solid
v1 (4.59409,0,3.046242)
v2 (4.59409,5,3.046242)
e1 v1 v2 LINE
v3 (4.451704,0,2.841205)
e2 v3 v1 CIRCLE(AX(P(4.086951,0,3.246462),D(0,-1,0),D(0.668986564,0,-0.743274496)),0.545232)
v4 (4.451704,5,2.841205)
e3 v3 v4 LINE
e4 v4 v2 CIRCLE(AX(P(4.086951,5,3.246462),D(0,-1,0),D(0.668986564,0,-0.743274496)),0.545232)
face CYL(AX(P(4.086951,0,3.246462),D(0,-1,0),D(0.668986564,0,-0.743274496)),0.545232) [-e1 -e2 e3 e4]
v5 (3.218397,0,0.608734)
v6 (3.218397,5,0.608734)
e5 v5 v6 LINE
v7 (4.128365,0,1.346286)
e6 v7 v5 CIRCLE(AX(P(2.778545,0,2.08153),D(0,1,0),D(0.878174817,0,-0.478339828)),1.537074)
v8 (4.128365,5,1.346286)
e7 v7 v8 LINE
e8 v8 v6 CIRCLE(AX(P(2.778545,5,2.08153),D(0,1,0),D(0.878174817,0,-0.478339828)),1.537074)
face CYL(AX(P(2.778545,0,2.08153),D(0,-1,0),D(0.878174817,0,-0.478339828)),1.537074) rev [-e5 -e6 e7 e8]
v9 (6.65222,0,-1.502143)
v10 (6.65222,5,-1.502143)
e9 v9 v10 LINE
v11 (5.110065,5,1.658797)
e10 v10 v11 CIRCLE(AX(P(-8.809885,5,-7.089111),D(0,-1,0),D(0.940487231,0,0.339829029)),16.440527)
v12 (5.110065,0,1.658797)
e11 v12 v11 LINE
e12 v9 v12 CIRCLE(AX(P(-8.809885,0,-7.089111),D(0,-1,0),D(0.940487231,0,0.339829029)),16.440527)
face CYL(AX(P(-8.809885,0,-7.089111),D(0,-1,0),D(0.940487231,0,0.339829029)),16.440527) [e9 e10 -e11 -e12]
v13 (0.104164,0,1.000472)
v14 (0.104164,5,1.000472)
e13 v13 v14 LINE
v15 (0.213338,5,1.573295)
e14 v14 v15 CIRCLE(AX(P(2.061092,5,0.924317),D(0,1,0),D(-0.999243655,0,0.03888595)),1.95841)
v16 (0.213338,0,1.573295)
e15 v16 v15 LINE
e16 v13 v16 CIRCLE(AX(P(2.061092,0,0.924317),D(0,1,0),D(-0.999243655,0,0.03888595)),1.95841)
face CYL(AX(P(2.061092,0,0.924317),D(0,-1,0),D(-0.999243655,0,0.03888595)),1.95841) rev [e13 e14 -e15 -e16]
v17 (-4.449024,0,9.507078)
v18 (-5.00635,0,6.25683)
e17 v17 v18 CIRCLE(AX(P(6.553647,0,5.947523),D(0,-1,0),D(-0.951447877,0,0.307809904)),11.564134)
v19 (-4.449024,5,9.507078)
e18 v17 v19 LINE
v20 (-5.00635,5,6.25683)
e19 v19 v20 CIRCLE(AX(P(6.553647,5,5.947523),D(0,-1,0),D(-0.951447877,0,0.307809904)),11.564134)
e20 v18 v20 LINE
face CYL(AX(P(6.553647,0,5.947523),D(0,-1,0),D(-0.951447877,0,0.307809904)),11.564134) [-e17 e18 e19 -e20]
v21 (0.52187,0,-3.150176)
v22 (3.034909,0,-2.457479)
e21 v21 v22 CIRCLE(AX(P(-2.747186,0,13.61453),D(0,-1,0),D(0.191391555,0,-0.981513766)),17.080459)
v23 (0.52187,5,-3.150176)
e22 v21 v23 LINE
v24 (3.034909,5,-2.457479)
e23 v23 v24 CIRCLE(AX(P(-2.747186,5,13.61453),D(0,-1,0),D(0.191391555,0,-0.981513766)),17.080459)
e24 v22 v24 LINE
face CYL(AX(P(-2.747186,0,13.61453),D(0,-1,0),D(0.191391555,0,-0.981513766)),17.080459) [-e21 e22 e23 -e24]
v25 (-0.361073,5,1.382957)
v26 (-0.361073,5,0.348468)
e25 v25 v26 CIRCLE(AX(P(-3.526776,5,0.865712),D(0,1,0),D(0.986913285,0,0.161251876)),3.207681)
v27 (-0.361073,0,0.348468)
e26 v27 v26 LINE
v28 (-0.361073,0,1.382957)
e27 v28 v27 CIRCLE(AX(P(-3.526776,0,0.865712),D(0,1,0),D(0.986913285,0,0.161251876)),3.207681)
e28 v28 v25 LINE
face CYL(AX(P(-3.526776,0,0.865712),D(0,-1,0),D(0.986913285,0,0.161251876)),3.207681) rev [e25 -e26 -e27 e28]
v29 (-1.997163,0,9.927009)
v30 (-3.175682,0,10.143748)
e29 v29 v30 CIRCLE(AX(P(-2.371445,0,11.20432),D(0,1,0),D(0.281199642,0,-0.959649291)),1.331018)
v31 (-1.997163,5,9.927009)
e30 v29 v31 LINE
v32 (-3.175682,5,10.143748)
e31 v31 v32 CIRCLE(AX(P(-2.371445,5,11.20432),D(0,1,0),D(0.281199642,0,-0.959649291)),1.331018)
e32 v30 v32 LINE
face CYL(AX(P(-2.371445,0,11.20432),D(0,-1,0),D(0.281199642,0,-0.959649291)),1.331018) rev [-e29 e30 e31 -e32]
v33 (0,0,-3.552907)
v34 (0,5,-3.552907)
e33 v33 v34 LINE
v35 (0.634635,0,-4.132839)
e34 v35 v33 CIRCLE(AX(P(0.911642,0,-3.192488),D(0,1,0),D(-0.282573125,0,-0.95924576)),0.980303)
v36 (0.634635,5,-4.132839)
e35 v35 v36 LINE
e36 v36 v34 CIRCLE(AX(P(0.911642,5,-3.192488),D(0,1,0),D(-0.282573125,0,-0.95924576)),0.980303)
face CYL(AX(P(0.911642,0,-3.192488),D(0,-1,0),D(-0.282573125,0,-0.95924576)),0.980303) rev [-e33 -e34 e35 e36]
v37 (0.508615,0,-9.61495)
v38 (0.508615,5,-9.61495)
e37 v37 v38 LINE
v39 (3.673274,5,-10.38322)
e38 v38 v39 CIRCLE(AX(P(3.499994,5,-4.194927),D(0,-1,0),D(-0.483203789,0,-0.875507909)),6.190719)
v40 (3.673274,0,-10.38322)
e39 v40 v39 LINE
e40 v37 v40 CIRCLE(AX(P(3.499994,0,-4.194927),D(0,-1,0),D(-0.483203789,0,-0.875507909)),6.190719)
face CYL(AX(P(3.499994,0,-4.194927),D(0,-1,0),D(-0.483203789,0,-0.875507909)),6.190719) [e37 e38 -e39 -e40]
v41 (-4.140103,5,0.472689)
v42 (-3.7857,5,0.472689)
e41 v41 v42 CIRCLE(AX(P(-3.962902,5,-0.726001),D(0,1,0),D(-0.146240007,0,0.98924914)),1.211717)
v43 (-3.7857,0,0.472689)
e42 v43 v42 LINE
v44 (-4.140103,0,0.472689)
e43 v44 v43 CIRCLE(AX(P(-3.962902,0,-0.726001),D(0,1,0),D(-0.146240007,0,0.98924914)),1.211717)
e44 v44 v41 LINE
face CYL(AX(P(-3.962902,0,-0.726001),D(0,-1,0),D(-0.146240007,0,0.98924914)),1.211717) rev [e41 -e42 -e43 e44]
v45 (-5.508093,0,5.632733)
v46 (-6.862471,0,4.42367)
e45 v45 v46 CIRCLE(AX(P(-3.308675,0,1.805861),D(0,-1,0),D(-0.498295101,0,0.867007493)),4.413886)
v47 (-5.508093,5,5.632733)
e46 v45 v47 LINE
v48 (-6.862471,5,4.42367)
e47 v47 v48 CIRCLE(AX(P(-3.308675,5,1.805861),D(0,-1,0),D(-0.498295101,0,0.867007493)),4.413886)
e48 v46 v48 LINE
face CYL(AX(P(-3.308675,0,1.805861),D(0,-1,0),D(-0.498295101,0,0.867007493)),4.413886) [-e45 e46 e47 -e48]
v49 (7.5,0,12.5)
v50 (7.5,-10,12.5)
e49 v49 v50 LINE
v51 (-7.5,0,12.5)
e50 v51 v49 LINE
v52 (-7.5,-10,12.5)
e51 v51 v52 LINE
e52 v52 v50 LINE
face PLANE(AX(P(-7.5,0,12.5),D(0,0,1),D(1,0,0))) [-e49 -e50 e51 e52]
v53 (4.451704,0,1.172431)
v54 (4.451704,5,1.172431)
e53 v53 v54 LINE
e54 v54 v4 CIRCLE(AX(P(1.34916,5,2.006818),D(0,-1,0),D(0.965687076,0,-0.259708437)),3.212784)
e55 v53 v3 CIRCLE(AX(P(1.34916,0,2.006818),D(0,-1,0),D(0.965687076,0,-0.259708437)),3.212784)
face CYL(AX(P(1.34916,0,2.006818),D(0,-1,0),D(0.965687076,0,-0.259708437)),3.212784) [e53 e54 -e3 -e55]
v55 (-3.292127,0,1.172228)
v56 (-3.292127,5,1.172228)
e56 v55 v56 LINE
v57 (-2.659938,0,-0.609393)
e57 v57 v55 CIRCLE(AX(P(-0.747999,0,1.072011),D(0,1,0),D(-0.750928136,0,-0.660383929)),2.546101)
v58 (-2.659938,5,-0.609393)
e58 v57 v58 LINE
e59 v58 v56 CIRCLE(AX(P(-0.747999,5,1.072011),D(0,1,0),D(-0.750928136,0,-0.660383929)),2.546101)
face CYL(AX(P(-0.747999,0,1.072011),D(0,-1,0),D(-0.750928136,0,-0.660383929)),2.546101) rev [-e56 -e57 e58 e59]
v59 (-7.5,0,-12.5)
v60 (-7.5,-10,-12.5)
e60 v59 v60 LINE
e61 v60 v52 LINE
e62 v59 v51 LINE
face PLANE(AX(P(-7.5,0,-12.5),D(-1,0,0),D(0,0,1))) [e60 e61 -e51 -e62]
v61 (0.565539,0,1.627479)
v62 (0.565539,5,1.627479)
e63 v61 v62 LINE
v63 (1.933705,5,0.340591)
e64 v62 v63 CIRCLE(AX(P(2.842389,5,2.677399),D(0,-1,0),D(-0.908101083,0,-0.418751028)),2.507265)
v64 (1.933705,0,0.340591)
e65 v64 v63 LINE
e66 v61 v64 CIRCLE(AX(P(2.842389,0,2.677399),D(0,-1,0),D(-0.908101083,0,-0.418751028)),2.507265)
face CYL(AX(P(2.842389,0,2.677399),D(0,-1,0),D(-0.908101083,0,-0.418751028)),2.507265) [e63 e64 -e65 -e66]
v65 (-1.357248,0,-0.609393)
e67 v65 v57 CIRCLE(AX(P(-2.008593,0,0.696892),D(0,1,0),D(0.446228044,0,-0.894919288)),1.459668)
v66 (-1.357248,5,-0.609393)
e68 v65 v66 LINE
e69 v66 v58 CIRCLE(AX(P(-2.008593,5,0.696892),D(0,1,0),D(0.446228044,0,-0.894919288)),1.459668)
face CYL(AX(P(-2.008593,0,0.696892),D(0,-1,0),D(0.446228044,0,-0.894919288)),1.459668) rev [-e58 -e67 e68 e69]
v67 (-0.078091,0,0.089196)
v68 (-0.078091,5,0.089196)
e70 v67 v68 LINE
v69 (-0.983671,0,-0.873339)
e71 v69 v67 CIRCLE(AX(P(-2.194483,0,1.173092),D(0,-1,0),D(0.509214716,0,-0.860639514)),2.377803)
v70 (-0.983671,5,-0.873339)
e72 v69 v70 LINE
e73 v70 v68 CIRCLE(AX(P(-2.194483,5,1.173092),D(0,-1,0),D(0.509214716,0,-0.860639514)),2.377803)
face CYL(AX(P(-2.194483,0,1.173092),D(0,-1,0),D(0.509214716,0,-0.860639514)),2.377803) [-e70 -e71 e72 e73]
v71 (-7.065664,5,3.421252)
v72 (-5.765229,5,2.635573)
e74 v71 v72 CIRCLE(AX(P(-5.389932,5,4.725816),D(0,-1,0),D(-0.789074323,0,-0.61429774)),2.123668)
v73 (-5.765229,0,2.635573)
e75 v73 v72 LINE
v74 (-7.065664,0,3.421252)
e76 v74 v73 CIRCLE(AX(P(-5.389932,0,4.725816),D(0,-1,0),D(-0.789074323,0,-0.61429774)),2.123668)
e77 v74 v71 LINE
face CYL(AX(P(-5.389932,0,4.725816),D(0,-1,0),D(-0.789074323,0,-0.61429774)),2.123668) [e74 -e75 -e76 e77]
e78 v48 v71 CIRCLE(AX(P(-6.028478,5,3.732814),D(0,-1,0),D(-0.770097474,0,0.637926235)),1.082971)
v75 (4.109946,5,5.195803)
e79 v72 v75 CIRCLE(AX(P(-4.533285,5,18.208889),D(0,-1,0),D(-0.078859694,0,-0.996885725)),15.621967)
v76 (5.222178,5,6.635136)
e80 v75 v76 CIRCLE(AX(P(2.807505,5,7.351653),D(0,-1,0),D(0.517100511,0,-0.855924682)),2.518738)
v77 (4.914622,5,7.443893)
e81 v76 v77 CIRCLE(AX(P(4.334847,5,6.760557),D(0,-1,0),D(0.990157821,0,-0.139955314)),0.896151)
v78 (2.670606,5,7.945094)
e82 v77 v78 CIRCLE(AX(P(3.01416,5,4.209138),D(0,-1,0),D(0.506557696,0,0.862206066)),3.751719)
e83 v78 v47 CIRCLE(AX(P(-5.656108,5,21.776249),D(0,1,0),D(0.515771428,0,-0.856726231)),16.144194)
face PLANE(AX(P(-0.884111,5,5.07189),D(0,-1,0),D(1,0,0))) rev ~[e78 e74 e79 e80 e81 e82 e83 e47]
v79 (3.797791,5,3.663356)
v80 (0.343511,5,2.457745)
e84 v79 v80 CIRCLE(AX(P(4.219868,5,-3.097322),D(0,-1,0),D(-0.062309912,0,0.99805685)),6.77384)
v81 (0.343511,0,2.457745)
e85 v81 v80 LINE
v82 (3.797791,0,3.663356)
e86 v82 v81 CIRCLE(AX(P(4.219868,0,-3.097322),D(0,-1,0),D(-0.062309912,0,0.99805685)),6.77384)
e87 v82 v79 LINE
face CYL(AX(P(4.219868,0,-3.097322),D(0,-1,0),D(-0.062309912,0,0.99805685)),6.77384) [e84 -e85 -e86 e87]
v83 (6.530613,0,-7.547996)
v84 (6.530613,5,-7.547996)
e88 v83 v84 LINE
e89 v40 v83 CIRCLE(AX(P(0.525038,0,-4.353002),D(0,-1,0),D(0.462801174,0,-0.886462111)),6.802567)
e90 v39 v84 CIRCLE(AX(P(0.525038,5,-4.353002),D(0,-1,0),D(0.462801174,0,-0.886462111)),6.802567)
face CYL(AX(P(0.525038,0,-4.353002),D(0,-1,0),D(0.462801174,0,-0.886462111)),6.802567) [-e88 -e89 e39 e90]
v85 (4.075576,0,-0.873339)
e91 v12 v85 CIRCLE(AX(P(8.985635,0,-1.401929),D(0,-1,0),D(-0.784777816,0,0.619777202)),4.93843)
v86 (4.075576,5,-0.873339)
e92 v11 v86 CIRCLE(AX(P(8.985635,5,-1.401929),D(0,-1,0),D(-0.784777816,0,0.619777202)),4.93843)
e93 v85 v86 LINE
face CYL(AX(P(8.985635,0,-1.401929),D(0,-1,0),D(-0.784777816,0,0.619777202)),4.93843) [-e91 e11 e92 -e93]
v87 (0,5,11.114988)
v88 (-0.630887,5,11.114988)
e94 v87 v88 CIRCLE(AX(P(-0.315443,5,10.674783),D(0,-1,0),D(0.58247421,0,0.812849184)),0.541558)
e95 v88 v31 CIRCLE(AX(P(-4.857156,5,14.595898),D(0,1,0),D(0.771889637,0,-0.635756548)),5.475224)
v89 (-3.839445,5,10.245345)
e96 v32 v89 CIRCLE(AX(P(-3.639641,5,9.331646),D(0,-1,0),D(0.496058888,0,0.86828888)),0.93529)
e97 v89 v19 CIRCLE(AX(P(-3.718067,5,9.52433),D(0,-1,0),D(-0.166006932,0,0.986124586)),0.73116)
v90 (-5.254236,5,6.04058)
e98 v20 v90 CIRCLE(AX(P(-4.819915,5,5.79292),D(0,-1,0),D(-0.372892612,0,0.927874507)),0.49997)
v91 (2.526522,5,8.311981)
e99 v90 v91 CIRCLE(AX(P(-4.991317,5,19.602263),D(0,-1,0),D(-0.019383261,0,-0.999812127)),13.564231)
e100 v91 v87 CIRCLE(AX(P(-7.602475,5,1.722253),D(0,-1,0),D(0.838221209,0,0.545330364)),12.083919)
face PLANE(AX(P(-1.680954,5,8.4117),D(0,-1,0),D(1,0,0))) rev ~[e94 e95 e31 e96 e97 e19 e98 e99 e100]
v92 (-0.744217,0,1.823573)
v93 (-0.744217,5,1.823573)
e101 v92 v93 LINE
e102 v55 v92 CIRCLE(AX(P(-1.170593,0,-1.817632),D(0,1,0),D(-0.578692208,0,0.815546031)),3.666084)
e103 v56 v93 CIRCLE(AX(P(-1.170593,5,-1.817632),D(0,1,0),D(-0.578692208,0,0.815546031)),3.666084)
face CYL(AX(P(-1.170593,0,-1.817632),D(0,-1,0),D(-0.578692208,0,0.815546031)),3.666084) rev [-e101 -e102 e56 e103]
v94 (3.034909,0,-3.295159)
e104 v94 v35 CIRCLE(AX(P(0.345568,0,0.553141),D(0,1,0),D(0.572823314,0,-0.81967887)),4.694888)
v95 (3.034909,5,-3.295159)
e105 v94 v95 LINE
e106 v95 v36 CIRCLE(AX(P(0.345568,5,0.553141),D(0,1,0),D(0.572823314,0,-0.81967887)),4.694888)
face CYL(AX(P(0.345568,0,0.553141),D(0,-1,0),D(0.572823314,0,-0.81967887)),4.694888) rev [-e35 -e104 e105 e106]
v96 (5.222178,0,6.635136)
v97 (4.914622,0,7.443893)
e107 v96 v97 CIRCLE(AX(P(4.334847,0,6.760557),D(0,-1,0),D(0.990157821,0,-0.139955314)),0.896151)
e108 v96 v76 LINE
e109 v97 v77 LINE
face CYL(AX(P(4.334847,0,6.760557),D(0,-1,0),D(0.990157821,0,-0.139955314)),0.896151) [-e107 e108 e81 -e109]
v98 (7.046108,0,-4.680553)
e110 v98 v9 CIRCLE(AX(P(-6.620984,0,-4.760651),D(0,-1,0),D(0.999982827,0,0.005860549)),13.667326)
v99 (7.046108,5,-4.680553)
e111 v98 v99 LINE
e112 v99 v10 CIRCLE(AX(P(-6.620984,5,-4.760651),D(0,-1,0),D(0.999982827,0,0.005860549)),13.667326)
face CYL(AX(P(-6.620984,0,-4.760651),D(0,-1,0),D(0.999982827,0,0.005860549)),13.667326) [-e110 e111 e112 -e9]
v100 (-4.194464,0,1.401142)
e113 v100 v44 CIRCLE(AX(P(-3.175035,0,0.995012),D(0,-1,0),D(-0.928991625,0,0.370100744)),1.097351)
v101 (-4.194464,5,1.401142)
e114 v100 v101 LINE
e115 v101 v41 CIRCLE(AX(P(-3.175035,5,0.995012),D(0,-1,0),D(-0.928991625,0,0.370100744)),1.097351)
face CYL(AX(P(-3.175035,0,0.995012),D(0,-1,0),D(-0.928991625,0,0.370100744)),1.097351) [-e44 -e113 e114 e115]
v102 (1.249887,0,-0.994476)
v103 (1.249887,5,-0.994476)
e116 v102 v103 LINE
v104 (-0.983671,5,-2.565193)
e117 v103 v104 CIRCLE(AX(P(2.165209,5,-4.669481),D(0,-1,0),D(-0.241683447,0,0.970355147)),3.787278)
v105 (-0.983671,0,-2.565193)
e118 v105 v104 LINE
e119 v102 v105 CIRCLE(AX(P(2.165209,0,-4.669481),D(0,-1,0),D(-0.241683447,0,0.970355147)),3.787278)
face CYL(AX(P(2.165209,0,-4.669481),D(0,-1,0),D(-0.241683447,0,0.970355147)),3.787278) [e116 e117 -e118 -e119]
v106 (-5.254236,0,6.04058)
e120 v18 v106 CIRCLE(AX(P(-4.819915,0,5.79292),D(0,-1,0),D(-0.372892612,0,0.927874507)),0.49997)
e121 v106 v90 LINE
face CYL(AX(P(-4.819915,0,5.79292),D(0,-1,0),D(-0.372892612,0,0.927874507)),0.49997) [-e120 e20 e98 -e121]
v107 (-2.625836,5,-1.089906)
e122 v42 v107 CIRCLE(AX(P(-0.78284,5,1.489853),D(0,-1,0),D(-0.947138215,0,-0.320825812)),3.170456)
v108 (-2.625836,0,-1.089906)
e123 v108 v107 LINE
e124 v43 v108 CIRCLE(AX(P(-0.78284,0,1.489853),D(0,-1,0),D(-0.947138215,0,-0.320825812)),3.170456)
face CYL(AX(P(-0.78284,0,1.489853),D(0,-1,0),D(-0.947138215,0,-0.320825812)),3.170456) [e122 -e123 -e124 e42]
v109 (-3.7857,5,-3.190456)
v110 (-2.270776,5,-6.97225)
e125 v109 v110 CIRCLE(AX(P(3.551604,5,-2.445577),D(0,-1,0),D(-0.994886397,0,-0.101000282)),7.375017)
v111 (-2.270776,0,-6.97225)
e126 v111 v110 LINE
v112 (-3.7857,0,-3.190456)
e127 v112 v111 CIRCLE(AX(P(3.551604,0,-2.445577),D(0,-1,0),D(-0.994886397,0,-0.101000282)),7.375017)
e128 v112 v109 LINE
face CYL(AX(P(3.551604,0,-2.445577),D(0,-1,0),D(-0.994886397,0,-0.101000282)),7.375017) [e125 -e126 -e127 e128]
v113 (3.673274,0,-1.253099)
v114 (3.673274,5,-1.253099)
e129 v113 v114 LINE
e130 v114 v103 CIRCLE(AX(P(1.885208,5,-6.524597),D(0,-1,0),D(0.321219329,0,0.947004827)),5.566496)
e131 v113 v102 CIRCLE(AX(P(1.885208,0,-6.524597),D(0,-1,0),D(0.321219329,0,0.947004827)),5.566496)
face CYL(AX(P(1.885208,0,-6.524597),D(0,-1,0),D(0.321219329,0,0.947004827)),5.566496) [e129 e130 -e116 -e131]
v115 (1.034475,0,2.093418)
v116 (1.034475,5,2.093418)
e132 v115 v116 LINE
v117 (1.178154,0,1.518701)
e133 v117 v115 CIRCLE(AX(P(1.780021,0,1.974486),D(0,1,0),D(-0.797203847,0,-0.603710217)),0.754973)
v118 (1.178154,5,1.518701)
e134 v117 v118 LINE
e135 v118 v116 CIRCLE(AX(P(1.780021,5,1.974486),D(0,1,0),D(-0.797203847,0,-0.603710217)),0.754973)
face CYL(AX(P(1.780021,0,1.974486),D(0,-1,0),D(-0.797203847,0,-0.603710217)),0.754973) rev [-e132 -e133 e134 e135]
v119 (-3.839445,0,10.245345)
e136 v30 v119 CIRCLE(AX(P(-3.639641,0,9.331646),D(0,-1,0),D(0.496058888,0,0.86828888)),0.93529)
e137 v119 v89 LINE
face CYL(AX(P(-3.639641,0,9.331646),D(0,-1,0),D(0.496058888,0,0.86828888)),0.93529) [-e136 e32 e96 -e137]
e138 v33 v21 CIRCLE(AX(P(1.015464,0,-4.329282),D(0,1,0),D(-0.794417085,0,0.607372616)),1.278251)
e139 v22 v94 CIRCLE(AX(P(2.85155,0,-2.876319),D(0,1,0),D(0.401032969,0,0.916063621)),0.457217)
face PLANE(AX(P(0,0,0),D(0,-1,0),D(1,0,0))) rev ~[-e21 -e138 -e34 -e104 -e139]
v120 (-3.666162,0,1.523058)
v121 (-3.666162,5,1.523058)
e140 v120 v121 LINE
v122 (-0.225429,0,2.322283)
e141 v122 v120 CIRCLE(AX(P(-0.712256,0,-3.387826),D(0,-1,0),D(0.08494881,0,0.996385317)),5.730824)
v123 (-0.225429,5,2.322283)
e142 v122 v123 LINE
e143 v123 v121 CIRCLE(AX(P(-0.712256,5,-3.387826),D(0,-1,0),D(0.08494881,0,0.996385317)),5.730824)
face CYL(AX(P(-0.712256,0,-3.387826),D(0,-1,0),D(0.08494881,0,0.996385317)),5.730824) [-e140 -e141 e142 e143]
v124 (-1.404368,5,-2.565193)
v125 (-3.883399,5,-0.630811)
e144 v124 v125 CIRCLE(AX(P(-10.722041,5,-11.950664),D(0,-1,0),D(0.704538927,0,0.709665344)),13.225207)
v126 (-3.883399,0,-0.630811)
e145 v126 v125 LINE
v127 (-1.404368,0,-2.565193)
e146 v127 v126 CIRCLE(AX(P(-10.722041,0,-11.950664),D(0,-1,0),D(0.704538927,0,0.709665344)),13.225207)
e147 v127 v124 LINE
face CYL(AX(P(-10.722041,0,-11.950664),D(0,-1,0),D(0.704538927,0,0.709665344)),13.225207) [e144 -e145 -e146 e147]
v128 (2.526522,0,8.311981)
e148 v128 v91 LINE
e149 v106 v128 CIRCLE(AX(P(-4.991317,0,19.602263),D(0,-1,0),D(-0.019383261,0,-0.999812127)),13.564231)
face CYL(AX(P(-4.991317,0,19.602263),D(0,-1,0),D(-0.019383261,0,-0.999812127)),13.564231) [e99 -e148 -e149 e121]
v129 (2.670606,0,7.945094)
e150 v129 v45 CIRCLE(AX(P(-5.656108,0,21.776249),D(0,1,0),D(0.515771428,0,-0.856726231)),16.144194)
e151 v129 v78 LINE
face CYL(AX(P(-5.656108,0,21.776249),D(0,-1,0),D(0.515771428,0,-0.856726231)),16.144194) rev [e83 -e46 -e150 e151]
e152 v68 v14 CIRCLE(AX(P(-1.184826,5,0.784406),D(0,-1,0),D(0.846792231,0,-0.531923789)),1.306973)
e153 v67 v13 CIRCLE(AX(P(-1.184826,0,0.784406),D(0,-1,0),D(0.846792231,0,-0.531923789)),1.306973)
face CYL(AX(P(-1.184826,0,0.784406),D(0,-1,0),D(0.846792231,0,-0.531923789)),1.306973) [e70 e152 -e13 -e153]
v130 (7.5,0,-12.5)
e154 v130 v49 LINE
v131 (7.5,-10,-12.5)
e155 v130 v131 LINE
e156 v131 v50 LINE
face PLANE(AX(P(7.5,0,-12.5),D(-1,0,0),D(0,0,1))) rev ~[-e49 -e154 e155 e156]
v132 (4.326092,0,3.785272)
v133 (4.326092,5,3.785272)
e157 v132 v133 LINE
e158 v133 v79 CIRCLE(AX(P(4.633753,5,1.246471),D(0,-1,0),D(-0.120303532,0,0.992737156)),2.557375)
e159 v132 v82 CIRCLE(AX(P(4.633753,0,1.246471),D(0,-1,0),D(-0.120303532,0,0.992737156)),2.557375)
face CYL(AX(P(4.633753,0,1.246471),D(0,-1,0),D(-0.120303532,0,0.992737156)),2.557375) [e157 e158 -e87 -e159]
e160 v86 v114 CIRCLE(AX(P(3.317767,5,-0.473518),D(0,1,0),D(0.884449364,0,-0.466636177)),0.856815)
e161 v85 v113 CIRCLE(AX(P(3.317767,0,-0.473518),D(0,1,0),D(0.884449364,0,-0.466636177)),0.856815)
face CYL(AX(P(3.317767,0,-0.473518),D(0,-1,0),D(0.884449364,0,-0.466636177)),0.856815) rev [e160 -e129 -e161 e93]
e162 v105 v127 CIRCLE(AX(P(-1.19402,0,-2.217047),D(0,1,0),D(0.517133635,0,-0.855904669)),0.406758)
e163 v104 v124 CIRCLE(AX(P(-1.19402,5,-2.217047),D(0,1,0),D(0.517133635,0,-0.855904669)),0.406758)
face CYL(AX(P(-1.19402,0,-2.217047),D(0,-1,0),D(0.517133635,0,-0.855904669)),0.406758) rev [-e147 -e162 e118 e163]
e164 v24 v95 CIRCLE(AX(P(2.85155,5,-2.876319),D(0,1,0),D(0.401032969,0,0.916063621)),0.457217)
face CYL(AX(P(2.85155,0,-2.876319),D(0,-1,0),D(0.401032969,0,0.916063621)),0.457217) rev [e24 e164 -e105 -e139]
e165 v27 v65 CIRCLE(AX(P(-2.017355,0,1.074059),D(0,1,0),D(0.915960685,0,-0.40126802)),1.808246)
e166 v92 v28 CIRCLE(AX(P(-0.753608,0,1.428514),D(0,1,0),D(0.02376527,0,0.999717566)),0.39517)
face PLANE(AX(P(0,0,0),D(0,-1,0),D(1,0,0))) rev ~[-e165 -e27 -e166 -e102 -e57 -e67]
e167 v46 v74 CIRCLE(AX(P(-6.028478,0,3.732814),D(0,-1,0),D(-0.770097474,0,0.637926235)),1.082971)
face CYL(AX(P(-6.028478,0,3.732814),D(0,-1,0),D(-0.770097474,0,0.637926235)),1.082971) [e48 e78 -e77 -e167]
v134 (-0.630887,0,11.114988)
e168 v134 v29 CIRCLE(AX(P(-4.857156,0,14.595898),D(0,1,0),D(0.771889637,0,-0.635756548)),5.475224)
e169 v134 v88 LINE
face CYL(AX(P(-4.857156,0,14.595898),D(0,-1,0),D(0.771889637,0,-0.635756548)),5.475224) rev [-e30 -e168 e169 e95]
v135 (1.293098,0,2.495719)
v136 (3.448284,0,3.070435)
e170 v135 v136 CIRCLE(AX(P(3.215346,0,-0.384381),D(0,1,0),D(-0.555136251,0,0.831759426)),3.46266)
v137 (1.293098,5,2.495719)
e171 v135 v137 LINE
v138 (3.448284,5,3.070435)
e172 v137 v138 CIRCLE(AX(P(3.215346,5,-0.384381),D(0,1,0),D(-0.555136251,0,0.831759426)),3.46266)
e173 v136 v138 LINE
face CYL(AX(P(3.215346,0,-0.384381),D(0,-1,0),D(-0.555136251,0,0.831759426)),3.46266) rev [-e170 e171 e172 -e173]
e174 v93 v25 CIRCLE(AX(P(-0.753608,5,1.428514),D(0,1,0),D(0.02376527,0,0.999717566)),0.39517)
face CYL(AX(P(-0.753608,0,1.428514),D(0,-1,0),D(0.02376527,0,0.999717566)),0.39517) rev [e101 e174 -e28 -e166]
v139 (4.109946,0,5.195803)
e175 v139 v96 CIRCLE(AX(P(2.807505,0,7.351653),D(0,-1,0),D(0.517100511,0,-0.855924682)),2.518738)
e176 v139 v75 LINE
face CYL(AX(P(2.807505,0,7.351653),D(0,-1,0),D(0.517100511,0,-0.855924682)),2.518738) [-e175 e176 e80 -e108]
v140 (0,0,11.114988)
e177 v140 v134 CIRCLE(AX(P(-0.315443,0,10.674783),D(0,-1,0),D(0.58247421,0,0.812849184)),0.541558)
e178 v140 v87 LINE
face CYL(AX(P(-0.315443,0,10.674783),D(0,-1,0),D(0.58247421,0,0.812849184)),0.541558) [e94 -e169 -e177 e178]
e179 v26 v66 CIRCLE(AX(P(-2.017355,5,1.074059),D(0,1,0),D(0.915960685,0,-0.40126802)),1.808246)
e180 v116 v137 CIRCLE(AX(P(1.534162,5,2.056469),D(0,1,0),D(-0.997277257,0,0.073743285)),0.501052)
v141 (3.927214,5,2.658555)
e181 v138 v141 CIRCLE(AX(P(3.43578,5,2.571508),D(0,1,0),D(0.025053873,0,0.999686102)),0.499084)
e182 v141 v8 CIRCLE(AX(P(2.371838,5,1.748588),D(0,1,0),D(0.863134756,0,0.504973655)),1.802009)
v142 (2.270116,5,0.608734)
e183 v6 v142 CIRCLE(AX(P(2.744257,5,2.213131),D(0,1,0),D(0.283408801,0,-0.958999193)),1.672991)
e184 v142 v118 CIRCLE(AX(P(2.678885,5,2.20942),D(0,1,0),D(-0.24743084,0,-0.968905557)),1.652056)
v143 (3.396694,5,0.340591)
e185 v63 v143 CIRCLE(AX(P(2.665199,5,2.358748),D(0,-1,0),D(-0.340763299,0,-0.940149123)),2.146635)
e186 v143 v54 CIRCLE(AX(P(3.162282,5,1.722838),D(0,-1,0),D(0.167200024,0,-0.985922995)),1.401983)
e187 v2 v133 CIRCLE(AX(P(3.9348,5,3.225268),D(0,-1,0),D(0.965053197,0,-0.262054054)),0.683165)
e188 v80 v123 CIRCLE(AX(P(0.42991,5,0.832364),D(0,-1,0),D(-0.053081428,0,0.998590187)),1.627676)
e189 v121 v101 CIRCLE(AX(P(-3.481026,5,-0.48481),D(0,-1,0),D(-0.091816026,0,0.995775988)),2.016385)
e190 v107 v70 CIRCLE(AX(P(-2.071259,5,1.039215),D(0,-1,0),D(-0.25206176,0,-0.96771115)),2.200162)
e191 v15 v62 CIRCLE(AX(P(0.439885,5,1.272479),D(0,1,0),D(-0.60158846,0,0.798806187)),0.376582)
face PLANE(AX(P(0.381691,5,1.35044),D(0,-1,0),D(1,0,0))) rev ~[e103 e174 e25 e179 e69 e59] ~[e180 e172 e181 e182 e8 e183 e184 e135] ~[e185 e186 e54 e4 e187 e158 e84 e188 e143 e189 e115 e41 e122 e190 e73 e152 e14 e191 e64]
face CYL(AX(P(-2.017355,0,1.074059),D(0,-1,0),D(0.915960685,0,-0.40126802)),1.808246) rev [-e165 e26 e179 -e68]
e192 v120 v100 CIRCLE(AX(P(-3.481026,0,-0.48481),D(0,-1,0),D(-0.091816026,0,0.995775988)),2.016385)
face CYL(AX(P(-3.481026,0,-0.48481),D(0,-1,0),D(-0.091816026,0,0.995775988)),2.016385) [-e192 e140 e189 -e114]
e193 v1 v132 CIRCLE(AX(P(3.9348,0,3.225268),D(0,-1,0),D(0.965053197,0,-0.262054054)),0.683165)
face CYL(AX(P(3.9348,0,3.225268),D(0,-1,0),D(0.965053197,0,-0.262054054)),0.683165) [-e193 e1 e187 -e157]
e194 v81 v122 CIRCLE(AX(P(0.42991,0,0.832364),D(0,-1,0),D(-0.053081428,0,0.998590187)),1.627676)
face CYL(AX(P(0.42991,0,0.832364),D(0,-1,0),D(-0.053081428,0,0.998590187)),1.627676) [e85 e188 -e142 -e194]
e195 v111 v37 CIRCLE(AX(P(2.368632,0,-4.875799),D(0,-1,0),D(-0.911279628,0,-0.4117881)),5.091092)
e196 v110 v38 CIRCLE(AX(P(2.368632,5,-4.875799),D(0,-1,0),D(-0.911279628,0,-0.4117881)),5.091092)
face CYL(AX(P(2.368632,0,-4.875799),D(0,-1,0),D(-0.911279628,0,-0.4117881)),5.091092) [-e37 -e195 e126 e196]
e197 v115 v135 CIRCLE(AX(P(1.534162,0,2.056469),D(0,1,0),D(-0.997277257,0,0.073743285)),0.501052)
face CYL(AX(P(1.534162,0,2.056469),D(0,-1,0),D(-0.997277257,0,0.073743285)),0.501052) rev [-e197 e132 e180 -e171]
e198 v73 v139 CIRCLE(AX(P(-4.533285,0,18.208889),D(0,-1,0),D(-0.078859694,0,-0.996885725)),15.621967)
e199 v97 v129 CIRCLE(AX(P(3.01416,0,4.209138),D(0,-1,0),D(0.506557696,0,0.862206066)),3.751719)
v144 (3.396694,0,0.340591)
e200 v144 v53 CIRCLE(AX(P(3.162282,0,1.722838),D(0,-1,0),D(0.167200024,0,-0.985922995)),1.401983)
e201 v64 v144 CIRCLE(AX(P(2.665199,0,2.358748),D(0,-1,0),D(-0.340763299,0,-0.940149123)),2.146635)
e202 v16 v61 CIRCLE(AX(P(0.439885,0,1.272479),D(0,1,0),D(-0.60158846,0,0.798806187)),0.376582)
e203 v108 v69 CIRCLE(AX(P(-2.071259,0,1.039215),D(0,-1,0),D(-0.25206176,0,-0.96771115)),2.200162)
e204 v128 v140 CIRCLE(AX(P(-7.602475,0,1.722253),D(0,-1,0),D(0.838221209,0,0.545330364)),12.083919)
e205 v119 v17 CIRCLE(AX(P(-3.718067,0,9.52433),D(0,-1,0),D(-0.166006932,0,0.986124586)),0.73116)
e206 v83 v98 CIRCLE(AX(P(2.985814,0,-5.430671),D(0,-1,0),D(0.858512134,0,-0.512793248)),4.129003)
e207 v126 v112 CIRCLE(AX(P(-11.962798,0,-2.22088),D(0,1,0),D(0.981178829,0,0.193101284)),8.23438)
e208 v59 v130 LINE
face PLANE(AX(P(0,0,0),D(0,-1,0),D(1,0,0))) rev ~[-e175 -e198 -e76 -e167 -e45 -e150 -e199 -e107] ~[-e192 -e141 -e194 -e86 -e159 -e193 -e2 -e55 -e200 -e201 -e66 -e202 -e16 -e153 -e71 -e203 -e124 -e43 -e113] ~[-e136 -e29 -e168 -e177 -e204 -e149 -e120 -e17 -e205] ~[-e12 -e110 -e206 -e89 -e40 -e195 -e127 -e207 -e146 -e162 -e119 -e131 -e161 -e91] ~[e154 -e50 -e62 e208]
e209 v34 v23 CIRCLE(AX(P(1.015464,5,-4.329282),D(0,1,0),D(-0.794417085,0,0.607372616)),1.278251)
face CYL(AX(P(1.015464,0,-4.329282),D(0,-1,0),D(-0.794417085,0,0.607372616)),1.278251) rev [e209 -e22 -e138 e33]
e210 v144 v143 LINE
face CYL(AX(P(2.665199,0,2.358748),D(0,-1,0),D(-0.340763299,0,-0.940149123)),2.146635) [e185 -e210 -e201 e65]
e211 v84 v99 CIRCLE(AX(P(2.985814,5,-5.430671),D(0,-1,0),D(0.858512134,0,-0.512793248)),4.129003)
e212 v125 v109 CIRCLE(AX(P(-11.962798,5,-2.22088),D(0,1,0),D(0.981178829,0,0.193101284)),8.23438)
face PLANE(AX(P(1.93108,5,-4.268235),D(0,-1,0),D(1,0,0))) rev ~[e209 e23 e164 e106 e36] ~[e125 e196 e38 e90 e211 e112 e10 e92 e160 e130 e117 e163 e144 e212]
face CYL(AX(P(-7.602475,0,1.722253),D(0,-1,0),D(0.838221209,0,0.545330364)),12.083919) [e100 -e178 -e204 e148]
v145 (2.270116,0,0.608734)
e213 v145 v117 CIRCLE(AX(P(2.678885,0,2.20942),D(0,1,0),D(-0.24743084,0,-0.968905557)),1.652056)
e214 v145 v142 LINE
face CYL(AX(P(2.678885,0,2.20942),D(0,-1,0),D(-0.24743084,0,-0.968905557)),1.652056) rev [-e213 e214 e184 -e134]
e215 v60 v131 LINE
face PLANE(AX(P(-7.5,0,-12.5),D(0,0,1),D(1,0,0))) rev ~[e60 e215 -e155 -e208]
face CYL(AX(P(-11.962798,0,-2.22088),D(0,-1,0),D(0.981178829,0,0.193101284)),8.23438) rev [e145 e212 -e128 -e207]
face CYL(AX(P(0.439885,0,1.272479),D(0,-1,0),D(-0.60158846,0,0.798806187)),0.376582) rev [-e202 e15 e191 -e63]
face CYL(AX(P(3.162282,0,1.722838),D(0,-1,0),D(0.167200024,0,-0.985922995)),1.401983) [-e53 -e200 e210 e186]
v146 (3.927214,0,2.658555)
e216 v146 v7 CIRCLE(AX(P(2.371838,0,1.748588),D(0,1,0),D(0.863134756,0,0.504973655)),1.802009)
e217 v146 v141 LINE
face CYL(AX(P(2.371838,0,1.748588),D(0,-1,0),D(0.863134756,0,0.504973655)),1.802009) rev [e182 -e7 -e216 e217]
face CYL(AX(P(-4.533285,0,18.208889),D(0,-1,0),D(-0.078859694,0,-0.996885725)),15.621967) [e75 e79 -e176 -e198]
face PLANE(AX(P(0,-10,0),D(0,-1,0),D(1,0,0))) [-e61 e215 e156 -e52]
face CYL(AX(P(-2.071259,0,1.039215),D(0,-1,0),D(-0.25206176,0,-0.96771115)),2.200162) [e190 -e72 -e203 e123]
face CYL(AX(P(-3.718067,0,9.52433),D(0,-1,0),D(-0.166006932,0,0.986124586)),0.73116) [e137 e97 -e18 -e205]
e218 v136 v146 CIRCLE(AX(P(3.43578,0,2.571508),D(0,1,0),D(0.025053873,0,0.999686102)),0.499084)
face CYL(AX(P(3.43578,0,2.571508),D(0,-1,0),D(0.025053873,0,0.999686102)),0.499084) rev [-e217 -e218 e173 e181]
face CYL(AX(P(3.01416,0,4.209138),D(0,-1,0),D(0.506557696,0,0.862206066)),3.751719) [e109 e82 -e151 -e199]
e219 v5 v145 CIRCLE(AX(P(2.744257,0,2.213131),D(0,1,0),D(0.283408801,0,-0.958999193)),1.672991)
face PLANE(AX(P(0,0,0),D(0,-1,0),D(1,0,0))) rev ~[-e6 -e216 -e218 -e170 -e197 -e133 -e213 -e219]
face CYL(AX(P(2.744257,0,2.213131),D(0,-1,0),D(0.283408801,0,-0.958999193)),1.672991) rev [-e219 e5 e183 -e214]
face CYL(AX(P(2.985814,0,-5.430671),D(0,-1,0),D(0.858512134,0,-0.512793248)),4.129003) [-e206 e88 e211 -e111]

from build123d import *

# Parameters (mm, degrees)
F1_DEPTH = 5
F0_W     = 15
F0_H     = 25
F2_DEPTH = 10


with BuildPart() as f1:
    # F0 (on Front) → F1 (new body)
    with BuildSketch(Plane.XZ):
        with BuildLine():
            ThreePointArc((-5.00635, 6.25683), (-5.148587, 6.169676), (-5.254236, 6.04058))
            ThreePointArc((-5.254236, 6.04058), (-1.190227, 6.581507), (2.526522, 8.311981))
            ThreePointArc((2.526522, 8.311981), (1.373353, 9.812717), (0, 11.114988))
            ThreePointArc((0, 11.114988), (-0.315443, 11.216341), (-0.630887, 11.114988))
            ThreePointArc((-0.630887, 11.114988), (-1.26458, 10.464133), (-1.997163, 9.927009))
            ThreePointArc((-1.997163, 9.927009), (-2.612192, 9.895255), (-3.175682, 10.143748))
            ThreePointArc((-3.175682, 10.143748), (-3.498132, 10.256169), (-3.839445, 10.245345))
            ThreePointArc((-3.839445, 10.245345), (-4.281874, 9.989859), (-4.449024, 9.507078))
            ThreePointArc((-4.449024, 9.507078), (-4.844139, 7.901922), (-5.00635, 6.25683))
        make_face()
        with BuildLine():
            ThreePointArc((2.670606, 7.945094), (-1.26384, 6.241031), (-5.508093, 5.632733))
            ThreePointArc((-5.508093, 5.632733), (-6.248118, 5.09859), (-6.862471, 4.42367))
            ThreePointArc((-6.862471, 4.42367), (-7.089863, 3.94796), (-7.065664, 3.421252))
            ThreePointArc((-7.065664, 3.421252), (-6.488114, 2.908136), (-5.765229, 2.635573))
            ThreePointArc((-5.765229, 2.635573), (-0.612764, 3.086873), (4.109946, 5.195803))
            ThreePointArc((4.109946, 5.195803), (4.800531, 5.811559), (5.222178, 6.635136))
            ThreePointArc((5.222178, 6.635136), (5.172476, 7.079092), (4.914622, 7.443893))
            ThreePointArc((4.914622, 7.443893), (3.831957, 7.870641), (2.670606, 7.945094))
        make_face()
        with BuildLine():
            ThreePointArc((4.326092, 3.785272), (4.058701, 3.738354), (3.797791, 3.663356))
            ThreePointArc((3.797791, 3.663356), (1.987715, 3.298177), (0.343511, 2.457745))
            ThreePointArc((0.343511, 2.457745), (0.052907, 2.415777), (-0.225429, 2.322283))
            ThreePointArc((-0.225429, 2.322283), (-2.008909, 2.194381), (-3.666162, 1.523058))
            ThreePointArc((-3.666162, 1.523058), (-3.934429, 1.479938), (-4.194464, 1.401142))
            ThreePointArc((-4.194464, 1.401142), (-4.270509, 0.930872), (-4.140103, 0.472689))
            ThreePointArc((-4.140103, 0.472689), (-3.962901, 0.485716), (-3.7857, 0.472689))
            ThreePointArc((-3.7857, 0.472689), (-3.328622, -0.399799), (-2.625836, -1.089906))
            ThreePointArc((-2.625836, -1.089906), (-1.783595, -1.14206), (-0.983671, -0.873339))
            ThreePointArc((-0.983671, -0.873339), (-0.462666, -0.45625), (-0.078091, 0.089196))
            ThreePointArc((-0.078091, 0.089196), (0.096767, 0.528088), (0.104164, 1.000472))
            ThreePointArc((0.104164, 1.000472), (0.137311, 1.290969), (0.213338, 1.573295))
            ThreePointArc((0.213338, 1.573295), (0.382624, 1.644682), (0.565539, 1.627479))
            ThreePointArc((0.565539, 1.627479), (1.124563, 0.851077), (1.933705, 0.340591))
            ThreePointArc((1.933705, 0.340591), (2.665199, 0.212113), (3.396694, 0.340591))
            ThreePointArc((3.396694, 0.340591), (4.03033, 0.621907), (4.451704, 1.172431))
            ThreePointArc((4.451704, 1.172431), (4.561944, 2.006818), (4.451704, 2.841205))
            ThreePointArc((4.451704, 2.841205), (4.534789, 2.935465), (4.59409, 3.046242))
            ThreePointArc((4.59409, 3.046242), (4.57704, 3.458166), (4.326092, 3.785272))
        make_face()
        with BuildLine():
            ThreePointArc((-3.292127, 1.172228), (-2.078587, 1.734229), (-0.744217, 1.823573))
            ThreePointArc((-0.744217, 1.823573), (-0.455411, 1.687817), (-0.361073, 1.382957))
            ThreePointArc((-0.361073, 1.382957), (-0.319095, 0.865713), (-0.361073, 0.348468))
            ThreePointArc((-0.361073, 0.348468), (-0.764044, -0.229384), (-1.357248, -0.609393))
            ThreePointArc((-1.357248, -0.609393), (-2.008593, -0.762776), (-2.659938, -0.609393))
            ThreePointArc((-2.659938, -0.609393), (-3.147515, 0.220569), (-3.292127, 1.172228))
        make_face(mode=Mode.SUBTRACT)
        with BuildLine():
            ThreePointArc((1.293098, 2.495719), (2.323148, 2.961362), (3.448284, 3.070435))
            ThreePointArc((3.448284, 3.070435), (3.761202, 2.949906), (3.927214, 2.658555))
            ThreePointArc((3.927214, 2.658555), (4.153042, 2.02162), (4.128365, 1.346286))
            ThreePointArc((4.128365, 1.346286), (3.746392, 0.887432), (3.218397, 0.608734))
            ThreePointArc((3.218397, 0.608734), (2.744257, 0.54014), (2.270116, 0.608734))
            ThreePointArc((2.270116, 0.608734), (1.621266, 0.940275), (1.178154, 1.518701))
            ThreePointArc((1.178154, 1.518701), (1.04759, 1.791378), (1.034475, 2.093418))
            ThreePointArc((1.034475, 2.093418), (1.112689, 2.327417), (1.293098, 2.495719))
        make_face(mode=Mode.SUBTRACT)
        with BuildLine():
            ThreePointArc((7.046108, -4.680553), (6.942587, -3.07977), (6.65222, -1.502143))
            ThreePointArc((6.65222, -1.502143), (5.965912, 0.119684), (5.110065, 1.658797))
            ThreePointArc((5.110065, 1.658797), (4.414011, 0.465781), (4.075576, -0.873339))
            ThreePointArc((4.075576, -0.873339), (3.905919, -1.096582), (3.673274, -1.253099))
            ThreePointArc((3.673274, -1.253099), (2.475908, -0.989532), (1.249887, -0.994476))
            ThreePointArc((1.249887, -0.994476), (-0.013374, -1.571538), (-0.983671, -2.565193))
            ThreePointArc((-0.983671, -2.565193), (-1.194019, -2.623805), (-1.404368, -2.565193))
            ThreePointArc((-1.404368, -2.565193), (-2.586189, -1.524063), (-3.883399, -0.630811))
            ThreePointArc((-3.883399, -0.630811), (-3.73441, -1.906811), (-3.7857, -3.190456))
            ThreePointArc((-3.7857, -3.190456), (-3.294549, -5.188033), (-2.270776, -6.97225))
            ThreePointArc((-2.270776, -6.97225), (-1.139444, -8.565327), (0.508615, -9.61495))
            ThreePointArc((0.508615, -9.61495), (2.039521, -10.210907), (3.673274, -10.38322))
            ThreePointArc((3.673274, -10.38322), (5.316456, -9.181794), (6.530613, -7.547996))
            ThreePointArc((6.530613, -7.547996), (7.049669, -6.161251), (7.046108, -4.680553))
        make_face()
        with BuildLine():
            ThreePointArc((0, -3.552907), (0.234527, -3.317322), (0.52187, -3.150176))
            ThreePointArc((0.52187, -3.150176), (1.791623, -2.851839), (3.034909, -2.457479))
            ThreePointArc((3.034909, -2.457479), (3.308767, -2.876319), (3.034909, -3.295159))
            ThreePointArc((3.034909, -3.295159), (1.892551, -3.879557), (0.634635, -4.132839))
            ThreePointArc((0.634635, -4.132839), (0.250354, -3.916153), (0, -3.552907))
        make_face(mode=Mode.SUBTRACT)
    extrude(amount=-F1_DEPTH)

    # F0 (on Front) → F2 (join)
    with BuildSketch(Plane.XZ):
        Rectangle(F0_W, F0_H)
        with BuildLine():
            ThreePointArc((5.110065, 1.658797), (5.965912, 0.119684), (6.65222, -1.502143))
            ThreePointArc((6.65222, -1.502143), (6.942587, -3.07977), (7.046108, -4.680553))
            ThreePointArc((7.046108, -4.680553), (7.049669, -6.161251), (6.530613, -7.547996))
            ThreePointArc((6.530613, -7.547996), (5.316456, -9.181794), (3.673274, -10.38322))
            ThreePointArc((3.673274, -10.38322), (2.039521, -10.210907), (0.508615, -9.61495))
            ThreePointArc((0.508615, -9.61495), (-1.139444, -8.565327), (-2.270776, -6.97225))
            ThreePointArc((-2.270776, -6.97225), (-3.294549, -5.188033), (-3.7857, -3.190456))
            ThreePointArc((-3.7857, -3.190456), (-3.73441, -1.906811), (-3.883399, -0.630811))
            ThreePointArc((-3.883399, -0.630811), (-2.586189, -1.524063), (-1.404368, -2.565193))
            ThreePointArc((-1.404368, -2.565193), (-1.194019, -2.623805), (-0.983671, -2.565193))
            ThreePointArc((-0.983671, -2.565193), (-0.013374, -1.571538), (1.249887, -0.994476))
            ThreePointArc((1.249887, -0.994476), (2.475908, -0.989532), (3.673274, -1.253099))
            ThreePointArc((3.673274, -1.253099), (3.905919, -1.096582), (4.075576, -0.873339))
            ThreePointArc((4.075576, -0.873339), (4.414011, 0.465781), (5.110065, 1.658797))
        make_face(mode=Mode.SUBTRACT)
        with BuildLine():
            ThreePointArc((-6.862471, 4.42367), (-6.248118, 5.09859), (-5.508093, 5.632733))
            ThreePointArc((-5.508093, 5.632733), (-1.26384, 6.241031), (2.670606, 7.945094))
            ThreePointArc((2.670606, 7.945094), (3.831957, 7.870641), (4.914622, 7.443893))
            ThreePointArc((4.914622, 7.443893), (5.172476, 7.079092), (5.222178, 6.635136))
            ThreePointArc((5.222178, 6.635136), (4.800531, 5.811559), (4.109946, 5.195803))
            ThreePointArc((4.109946, 5.195803), (-0.612764, 3.086873), (-5.765229, 2.635573))
            ThreePointArc((-5.765229, 2.635573), (-6.488114, 2.908136), (-7.065664, 3.421252))
            ThreePointArc((-7.065664, 3.421252), (-7.089863, 3.94796), (-6.862471, 4.42367))
        make_face(mode=Mode.SUBTRACT)
        with BuildLine():
            ThreePointArc((2.526522, 8.311981), (-1.190227, 6.581507), (-5.254236, 6.04058))
            ThreePointArc((-5.254236, 6.04058), (-5.148587, 6.169676), (-5.00635, 6.25683))
            ThreePointArc((-5.00635, 6.25683), (-4.844139, 7.901922), (-4.449024, 9.507078))
            ThreePointArc((-4.449024, 9.507078), (-4.281874, 9.989859), (-3.839445, 10.245345))
            ThreePointArc((-3.839445, 10.245345), (-3.498132, 10.256169), (-3.175682, 10.143748))
            ThreePointArc((-3.175682, 10.143748), (-2.612192, 9.895255), (-1.997163, 9.927009))
            ThreePointArc((-1.997163, 9.927009), (-1.26458, 10.464133), (-0.630887, 11.114988))
            ThreePointArc((-0.630887, 11.114988), (-0.315443, 11.216341), (0, 11.114988))
            ThreePointArc((0, 11.114988), (1.373353, 9.812717), (2.526522, 8.311981))
        make_face(mode=Mode.SUBTRACT)
        with BuildLine():
            ThreePointArc((0.343511, 2.457745), (1.987715, 3.298177), (3.797791, 3.663356))
            ThreePointArc((3.797791, 3.663356), (4.058701, 3.738354), (4.326092, 3.785272))
            ThreePointArc((4.326092, 3.785272), (4.57704, 3.458166), (4.59409, 3.046242))
            ThreePointArc((4.59409, 3.046242), (4.534789, 2.935465), (4.451704, 2.841205))
            ThreePointArc((4.451704, 2.841205), (4.561944, 2.006818), (4.451704, 1.172431))
            ThreePointArc((4.451704, 1.172431), (4.03033, 0.621907), (3.396694, 0.340591))
            ThreePointArc((3.396694, 0.340591), (2.665199, 0.212113), (1.933705, 0.340591))
            ThreePointArc((1.933705, 0.340591), (1.124563, 0.851077), (0.565539, 1.627479))
            ThreePointArc((0.565539, 1.627479), (0.382624, 1.644682), (0.213338, 1.573295))
            ThreePointArc((0.213338, 1.573295), (0.137311, 1.290969), (0.104164, 1.000472))
            ThreePointArc((0.104164, 1.000472), (0.096767, 0.528088), (-0.078091, 0.089196))
            ThreePointArc((-0.078091, 0.089196), (-0.462666, -0.45625), (-0.983671, -0.873339))
            ThreePointArc((-0.983671, -0.873339), (-1.783595, -1.14206), (-2.625836, -1.089906))
            ThreePointArc((-2.625836, -1.089906), (-3.328622, -0.399799), (-3.7857, 0.472689))
            ThreePointArc((-3.7857, 0.472689), (-3.962901, 0.485716), (-4.140103, 0.472689))
            ThreePointArc((-4.140103, 0.472689), (-4.270509, 0.930872), (-4.194464, 1.401142))
            ThreePointArc((-4.194464, 1.401142), (-3.934429, 1.479938), (-3.666162, 1.523058))
            ThreePointArc((-3.666162, 1.523058), (-2.008909, 2.194381), (-0.225429, 2.322283))
            ThreePointArc((-0.225429, 2.322283), (0.052907, 2.415777), (0.343511, 2.457745))
        make_face(mode=Mode.SUBTRACT)
        with BuildLine():
            ThreePointArc((-5.00635, 6.25683), (-5.148587, 6.169676), (-5.254236, 6.04058))
            ThreePointArc((-5.254236, 6.04058), (-1.190227, 6.581507), (2.526522, 8.311981))
            ThreePointArc((2.526522, 8.311981), (1.373353, 9.812717), (0, 11.114988))
            ThreePointArc((0, 11.114988), (-0.315443, 11.216341), (-0.630887, 11.114988))
            ThreePointArc((-0.630887, 11.114988), (-1.26458, 10.464133), (-1.997163, 9.927009))
            ThreePointArc((-1.997163, 9.927009), (-2.612192, 9.895255), (-3.175682, 10.143748))
            ThreePointArc((-3.175682, 10.143748), (-3.498132, 10.256169), (-3.839445, 10.245345))
            ThreePointArc((-3.839445, 10.245345), (-4.281874, 9.989859), (-4.449024, 9.507078))
            ThreePointArc((-4.449024, 9.507078), (-4.844139, 7.901922), (-5.00635, 6.25683))
        make_face()
        with BuildLine():
            ThreePointArc((2.670606, 7.945094), (-1.26384, 6.241031), (-5.508093, 5.632733))
            ThreePointArc((-5.508093, 5.632733), (-6.248118, 5.09859), (-6.862471, 4.42367))
            ThreePointArc((-6.862471, 4.42367), (-7.089863, 3.94796), (-7.065664, 3.421252))
            ThreePointArc((-7.065664, 3.421252), (-6.488114, 2.908136), (-5.765229, 2.635573))
            ThreePointArc((-5.765229, 2.635573), (-0.612764, 3.086873), (4.109946, 5.195803))
            ThreePointArc((4.109946, 5.195803), (4.800531, 5.811559), (5.222178, 6.635136))
            ThreePointArc((5.222178, 6.635136), (5.172476, 7.079092), (4.914622, 7.443893))
            ThreePointArc((4.914622, 7.443893), (3.831957, 7.870641), (2.670606, 7.945094))
        make_face()
        with BuildLine():
            ThreePointArc((4.326092, 3.785272), (4.058701, 3.738354), (3.797791, 3.663356))
            ThreePointArc((3.797791, 3.663356), (1.987715, 3.298177), (0.343511, 2.457745))
            ThreePointArc((0.343511, 2.457745), (0.052907, 2.415777), (-0.225429, 2.322283))
            ThreePointArc((-0.225429, 2.322283), (-2.008909, 2.194381), (-3.666162, 1.523058))
            ThreePointArc((-3.666162, 1.523058), (-3.934429, 1.479938), (-4.194464, 1.401142))
            ThreePointArc((-4.194464, 1.401142), (-4.270509, 0.930872), (-4.140103, 0.472689))
            ThreePointArc((-4.140103, 0.472689), (-3.962901, 0.485716), (-3.7857, 0.472689))
            ThreePointArc((-3.7857, 0.472689), (-3.328622, -0.399799), (-2.625836, -1.089906))
            ThreePointArc((-2.625836, -1.089906), (-1.783595, -1.14206), (-0.983671, -0.873339))
            ThreePointArc((-0.983671, -0.873339), (-0.462666, -0.45625), (-0.078091, 0.089196))
            ThreePointArc((-0.078091, 0.089196), (0.096767, 0.528088), (0.104164, 1.000472))
            ThreePointArc((0.104164, 1.000472), (0.137311, 1.290969), (0.213338, 1.573295))
            ThreePointArc((0.213338, 1.573295), (0.382624, 1.644682), (0.565539, 1.627479))
            ThreePointArc((0.565539, 1.627479), (1.124563, 0.851077), (1.933705, 0.340591))
            ThreePointArc((1.933705, 0.340591), (2.665199, 0.212113), (3.396694, 0.340591))
            ThreePointArc((3.396694, 0.340591), (4.03033, 0.621907), (4.451704, 1.172431))
            ThreePointArc((4.451704, 1.172431), (4.561944, 2.006818), (4.451704, 2.841205))
            ThreePointArc((4.451704, 2.841205), (4.534789, 2.935465), (4.59409, 3.046242))
            ThreePointArc((4.59409, 3.046242), (4.57704, 3.458166), (4.326092, 3.785272))
        make_face()
        with BuildLine():
            ThreePointArc((-3.292127, 1.172228), (-2.078587, 1.734229), (-0.744217, 1.823573))
            ThreePointArc((-0.744217, 1.823573), (-0.455411, 1.687817), (-0.361073, 1.382957))
            ThreePointArc((-0.361073, 1.382957), (-0.319095, 0.865713), (-0.361073, 0.348468))
            ThreePointArc((-0.361073, 0.348468), (-0.764044, -0.229384), (-1.357248, -0.609393))
            ThreePointArc((-1.357248, -0.609393), (-2.008593, -0.762776), (-2.659938, -0.609393))
            ThreePointArc((-2.659938, -0.609393), (-3.147515, 0.220569), (-3.292127, 1.172228))
        make_face(mode=Mode.SUBTRACT)
        with BuildLine():
            ThreePointArc((1.293098, 2.495719), (2.323148, 2.961362), (3.448284, 3.070435))
            ThreePointArc((3.448284, 3.070435), (3.761202, 2.949906), (3.927214, 2.658555))
            ThreePointArc((3.927214, 2.658555), (4.153042, 2.02162), (4.128365, 1.346286))
            ThreePointArc((4.128365, 1.346286), (3.746392, 0.887432), (3.218397, 0.608734))
            ThreePointArc((3.218397, 0.608734), (2.744257, 0.54014), (2.270116, 0.608734))
            ThreePointArc((2.270116, 0.608734), (1.621266, 0.940275), (1.178154, 1.518701))
            ThreePointArc((1.178154, 1.518701), (1.04759, 1.791378), (1.034475, 2.093418))
            ThreePointArc((1.034475, 2.093418), (1.112689, 2.327417), (1.293098, 2.495719))
        make_face(mode=Mode.SUBTRACT)
        with BuildLine():
            ThreePointArc((7.046108, -4.680553), (6.942587, -3.07977), (6.65222, -1.502143))
            ThreePointArc((6.65222, -1.502143), (5.965912, 0.119684), (5.110065, 1.658797))
            ThreePointArc((5.110065, 1.658797), (4.414011, 0.465781), (4.075576, -0.873339))
            ThreePointArc((4.075576, -0.873339), (3.905919, -1.096582), (3.673274, -1.253099))
            ThreePointArc((3.673274, -1.253099), (2.475908, -0.989532), (1.249887, -0.994476))
            ThreePointArc((1.249887, -0.994476), (-0.013374, -1.571538), (-0.983671, -2.565193))
            ThreePointArc((-0.983671, -2.565193), (-1.194019, -2.623805), (-1.404368, -2.565193))
            ThreePointArc((-1.404368, -2.565193), (-2.586189, -1.524063), (-3.883399, -0.630811))
            ThreePointArc((-3.883399, -0.630811), (-3.73441, -1.906811), (-3.7857, -3.190456))
            ThreePointArc((-3.7857, -3.190456), (-3.294549, -5.188033), (-2.270776, -6.97225))
            ThreePointArc((-2.270776, -6.97225), (-1.139444, -8.565327), (0.508615, -9.61495))
            ThreePointArc((0.508615, -9.61495), (2.039521, -10.210907), (3.673274, -10.38322))
            ThreePointArc((3.673274, -10.38322), (5.316456, -9.181794), (6.530613, -7.547996))
            ThreePointArc((6.530613, -7.547996), (7.049669, -6.161251), (7.046108, -4.680553))
        make_face()
        with BuildLine():
            ThreePointArc((0, -3.552907), (0.234527, -3.317322), (0.52187, -3.150176))
            ThreePointArc((0.52187, -3.150176), (1.791623, -2.851839), (3.034909, -2.457479))
            ThreePointArc((3.034909, -2.457479), (3.308767, -2.876319), (3.034909, -3.295159))
            ThreePointArc((3.034909, -3.295159), (1.892551, -3.879557), (0.634635, -4.132839))
            ThreePointArc((0.634635, -4.132839), (0.250354, -3.916153), (0, -3.552907))
        make_face(mode=Mode.SUBTRACT)
        with BuildLine():
            ThreePointArc((3.034909, -2.457479), (1.791623, -2.851839), (0.52187, -3.150176))
            ThreePointArc((0.52187, -3.150176), (0.234527, -3.317322), (0, -3.552907))
            ThreePointArc((0, -3.552907), (0.250354, -3.916153), (0.634635, -4.132839))
            ThreePointArc((0.634635, -4.132839), (1.892551, -3.879557), (3.034909, -3.295159))
            ThreePointArc((3.034909, -3.295159), (3.308767, -2.876319), (3.034909, -2.457479))
        make_face()
        with BuildLine():
            ThreePointArc((-0.361073, 1.382957), (-0.455411, 1.687817), (-0.744217, 1.823573))
            ThreePointArc((-0.744217, 1.823573), (-2.078587, 1.734229), (-3.292127, 1.172228))
            ThreePointArc((-3.292127, 1.172228), (-3.147515, 0.220569), (-2.659938, -0.609393))
            ThreePointArc((-2.659938, -0.609393), (-2.008593, -0.762776), (-1.357248, -0.609393))
            ThreePointArc((-1.357248, -0.609393), (-0.764044, -0.229384), (-0.361073, 0.348468))
            ThreePointArc((-0.361073, 0.348468), (-0.319095, 0.865713), (-0.361073, 1.382957))
        make_face()
        with BuildLine():
            ThreePointArc((3.927214, 2.658555), (3.761202, 2.949906), (3.448284, 3.070435))
            ThreePointArc((3.448284, 3.070435), (2.323148, 2.961362), (1.293098, 2.495719))
            ThreePointArc((1.293098, 2.495719), (1.112689, 2.327417), (1.034475, 2.093418))
            ThreePointArc((1.034475, 2.093418), (1.04759, 1.791378), (1.178154, 1.518701))
            ThreePointArc((1.178154, 1.518701), (1.621266, 0.940275), (2.270116, 0.608734))
            ThreePointArc((2.270116, 0.608734), (2.744257, 0.54014), (3.218397, 0.608734))
            ThreePointArc((3.218397, 0.608734), (3.746392, 0.887432), (4.128365, 1.346286))
            ThreePointArc((4.128365, 1.346286), (4.153042, 2.02162), (3.927214, 2.658555))
        make_face()
    extrude(amount=F2_DEPTH)


solid = f1.part
